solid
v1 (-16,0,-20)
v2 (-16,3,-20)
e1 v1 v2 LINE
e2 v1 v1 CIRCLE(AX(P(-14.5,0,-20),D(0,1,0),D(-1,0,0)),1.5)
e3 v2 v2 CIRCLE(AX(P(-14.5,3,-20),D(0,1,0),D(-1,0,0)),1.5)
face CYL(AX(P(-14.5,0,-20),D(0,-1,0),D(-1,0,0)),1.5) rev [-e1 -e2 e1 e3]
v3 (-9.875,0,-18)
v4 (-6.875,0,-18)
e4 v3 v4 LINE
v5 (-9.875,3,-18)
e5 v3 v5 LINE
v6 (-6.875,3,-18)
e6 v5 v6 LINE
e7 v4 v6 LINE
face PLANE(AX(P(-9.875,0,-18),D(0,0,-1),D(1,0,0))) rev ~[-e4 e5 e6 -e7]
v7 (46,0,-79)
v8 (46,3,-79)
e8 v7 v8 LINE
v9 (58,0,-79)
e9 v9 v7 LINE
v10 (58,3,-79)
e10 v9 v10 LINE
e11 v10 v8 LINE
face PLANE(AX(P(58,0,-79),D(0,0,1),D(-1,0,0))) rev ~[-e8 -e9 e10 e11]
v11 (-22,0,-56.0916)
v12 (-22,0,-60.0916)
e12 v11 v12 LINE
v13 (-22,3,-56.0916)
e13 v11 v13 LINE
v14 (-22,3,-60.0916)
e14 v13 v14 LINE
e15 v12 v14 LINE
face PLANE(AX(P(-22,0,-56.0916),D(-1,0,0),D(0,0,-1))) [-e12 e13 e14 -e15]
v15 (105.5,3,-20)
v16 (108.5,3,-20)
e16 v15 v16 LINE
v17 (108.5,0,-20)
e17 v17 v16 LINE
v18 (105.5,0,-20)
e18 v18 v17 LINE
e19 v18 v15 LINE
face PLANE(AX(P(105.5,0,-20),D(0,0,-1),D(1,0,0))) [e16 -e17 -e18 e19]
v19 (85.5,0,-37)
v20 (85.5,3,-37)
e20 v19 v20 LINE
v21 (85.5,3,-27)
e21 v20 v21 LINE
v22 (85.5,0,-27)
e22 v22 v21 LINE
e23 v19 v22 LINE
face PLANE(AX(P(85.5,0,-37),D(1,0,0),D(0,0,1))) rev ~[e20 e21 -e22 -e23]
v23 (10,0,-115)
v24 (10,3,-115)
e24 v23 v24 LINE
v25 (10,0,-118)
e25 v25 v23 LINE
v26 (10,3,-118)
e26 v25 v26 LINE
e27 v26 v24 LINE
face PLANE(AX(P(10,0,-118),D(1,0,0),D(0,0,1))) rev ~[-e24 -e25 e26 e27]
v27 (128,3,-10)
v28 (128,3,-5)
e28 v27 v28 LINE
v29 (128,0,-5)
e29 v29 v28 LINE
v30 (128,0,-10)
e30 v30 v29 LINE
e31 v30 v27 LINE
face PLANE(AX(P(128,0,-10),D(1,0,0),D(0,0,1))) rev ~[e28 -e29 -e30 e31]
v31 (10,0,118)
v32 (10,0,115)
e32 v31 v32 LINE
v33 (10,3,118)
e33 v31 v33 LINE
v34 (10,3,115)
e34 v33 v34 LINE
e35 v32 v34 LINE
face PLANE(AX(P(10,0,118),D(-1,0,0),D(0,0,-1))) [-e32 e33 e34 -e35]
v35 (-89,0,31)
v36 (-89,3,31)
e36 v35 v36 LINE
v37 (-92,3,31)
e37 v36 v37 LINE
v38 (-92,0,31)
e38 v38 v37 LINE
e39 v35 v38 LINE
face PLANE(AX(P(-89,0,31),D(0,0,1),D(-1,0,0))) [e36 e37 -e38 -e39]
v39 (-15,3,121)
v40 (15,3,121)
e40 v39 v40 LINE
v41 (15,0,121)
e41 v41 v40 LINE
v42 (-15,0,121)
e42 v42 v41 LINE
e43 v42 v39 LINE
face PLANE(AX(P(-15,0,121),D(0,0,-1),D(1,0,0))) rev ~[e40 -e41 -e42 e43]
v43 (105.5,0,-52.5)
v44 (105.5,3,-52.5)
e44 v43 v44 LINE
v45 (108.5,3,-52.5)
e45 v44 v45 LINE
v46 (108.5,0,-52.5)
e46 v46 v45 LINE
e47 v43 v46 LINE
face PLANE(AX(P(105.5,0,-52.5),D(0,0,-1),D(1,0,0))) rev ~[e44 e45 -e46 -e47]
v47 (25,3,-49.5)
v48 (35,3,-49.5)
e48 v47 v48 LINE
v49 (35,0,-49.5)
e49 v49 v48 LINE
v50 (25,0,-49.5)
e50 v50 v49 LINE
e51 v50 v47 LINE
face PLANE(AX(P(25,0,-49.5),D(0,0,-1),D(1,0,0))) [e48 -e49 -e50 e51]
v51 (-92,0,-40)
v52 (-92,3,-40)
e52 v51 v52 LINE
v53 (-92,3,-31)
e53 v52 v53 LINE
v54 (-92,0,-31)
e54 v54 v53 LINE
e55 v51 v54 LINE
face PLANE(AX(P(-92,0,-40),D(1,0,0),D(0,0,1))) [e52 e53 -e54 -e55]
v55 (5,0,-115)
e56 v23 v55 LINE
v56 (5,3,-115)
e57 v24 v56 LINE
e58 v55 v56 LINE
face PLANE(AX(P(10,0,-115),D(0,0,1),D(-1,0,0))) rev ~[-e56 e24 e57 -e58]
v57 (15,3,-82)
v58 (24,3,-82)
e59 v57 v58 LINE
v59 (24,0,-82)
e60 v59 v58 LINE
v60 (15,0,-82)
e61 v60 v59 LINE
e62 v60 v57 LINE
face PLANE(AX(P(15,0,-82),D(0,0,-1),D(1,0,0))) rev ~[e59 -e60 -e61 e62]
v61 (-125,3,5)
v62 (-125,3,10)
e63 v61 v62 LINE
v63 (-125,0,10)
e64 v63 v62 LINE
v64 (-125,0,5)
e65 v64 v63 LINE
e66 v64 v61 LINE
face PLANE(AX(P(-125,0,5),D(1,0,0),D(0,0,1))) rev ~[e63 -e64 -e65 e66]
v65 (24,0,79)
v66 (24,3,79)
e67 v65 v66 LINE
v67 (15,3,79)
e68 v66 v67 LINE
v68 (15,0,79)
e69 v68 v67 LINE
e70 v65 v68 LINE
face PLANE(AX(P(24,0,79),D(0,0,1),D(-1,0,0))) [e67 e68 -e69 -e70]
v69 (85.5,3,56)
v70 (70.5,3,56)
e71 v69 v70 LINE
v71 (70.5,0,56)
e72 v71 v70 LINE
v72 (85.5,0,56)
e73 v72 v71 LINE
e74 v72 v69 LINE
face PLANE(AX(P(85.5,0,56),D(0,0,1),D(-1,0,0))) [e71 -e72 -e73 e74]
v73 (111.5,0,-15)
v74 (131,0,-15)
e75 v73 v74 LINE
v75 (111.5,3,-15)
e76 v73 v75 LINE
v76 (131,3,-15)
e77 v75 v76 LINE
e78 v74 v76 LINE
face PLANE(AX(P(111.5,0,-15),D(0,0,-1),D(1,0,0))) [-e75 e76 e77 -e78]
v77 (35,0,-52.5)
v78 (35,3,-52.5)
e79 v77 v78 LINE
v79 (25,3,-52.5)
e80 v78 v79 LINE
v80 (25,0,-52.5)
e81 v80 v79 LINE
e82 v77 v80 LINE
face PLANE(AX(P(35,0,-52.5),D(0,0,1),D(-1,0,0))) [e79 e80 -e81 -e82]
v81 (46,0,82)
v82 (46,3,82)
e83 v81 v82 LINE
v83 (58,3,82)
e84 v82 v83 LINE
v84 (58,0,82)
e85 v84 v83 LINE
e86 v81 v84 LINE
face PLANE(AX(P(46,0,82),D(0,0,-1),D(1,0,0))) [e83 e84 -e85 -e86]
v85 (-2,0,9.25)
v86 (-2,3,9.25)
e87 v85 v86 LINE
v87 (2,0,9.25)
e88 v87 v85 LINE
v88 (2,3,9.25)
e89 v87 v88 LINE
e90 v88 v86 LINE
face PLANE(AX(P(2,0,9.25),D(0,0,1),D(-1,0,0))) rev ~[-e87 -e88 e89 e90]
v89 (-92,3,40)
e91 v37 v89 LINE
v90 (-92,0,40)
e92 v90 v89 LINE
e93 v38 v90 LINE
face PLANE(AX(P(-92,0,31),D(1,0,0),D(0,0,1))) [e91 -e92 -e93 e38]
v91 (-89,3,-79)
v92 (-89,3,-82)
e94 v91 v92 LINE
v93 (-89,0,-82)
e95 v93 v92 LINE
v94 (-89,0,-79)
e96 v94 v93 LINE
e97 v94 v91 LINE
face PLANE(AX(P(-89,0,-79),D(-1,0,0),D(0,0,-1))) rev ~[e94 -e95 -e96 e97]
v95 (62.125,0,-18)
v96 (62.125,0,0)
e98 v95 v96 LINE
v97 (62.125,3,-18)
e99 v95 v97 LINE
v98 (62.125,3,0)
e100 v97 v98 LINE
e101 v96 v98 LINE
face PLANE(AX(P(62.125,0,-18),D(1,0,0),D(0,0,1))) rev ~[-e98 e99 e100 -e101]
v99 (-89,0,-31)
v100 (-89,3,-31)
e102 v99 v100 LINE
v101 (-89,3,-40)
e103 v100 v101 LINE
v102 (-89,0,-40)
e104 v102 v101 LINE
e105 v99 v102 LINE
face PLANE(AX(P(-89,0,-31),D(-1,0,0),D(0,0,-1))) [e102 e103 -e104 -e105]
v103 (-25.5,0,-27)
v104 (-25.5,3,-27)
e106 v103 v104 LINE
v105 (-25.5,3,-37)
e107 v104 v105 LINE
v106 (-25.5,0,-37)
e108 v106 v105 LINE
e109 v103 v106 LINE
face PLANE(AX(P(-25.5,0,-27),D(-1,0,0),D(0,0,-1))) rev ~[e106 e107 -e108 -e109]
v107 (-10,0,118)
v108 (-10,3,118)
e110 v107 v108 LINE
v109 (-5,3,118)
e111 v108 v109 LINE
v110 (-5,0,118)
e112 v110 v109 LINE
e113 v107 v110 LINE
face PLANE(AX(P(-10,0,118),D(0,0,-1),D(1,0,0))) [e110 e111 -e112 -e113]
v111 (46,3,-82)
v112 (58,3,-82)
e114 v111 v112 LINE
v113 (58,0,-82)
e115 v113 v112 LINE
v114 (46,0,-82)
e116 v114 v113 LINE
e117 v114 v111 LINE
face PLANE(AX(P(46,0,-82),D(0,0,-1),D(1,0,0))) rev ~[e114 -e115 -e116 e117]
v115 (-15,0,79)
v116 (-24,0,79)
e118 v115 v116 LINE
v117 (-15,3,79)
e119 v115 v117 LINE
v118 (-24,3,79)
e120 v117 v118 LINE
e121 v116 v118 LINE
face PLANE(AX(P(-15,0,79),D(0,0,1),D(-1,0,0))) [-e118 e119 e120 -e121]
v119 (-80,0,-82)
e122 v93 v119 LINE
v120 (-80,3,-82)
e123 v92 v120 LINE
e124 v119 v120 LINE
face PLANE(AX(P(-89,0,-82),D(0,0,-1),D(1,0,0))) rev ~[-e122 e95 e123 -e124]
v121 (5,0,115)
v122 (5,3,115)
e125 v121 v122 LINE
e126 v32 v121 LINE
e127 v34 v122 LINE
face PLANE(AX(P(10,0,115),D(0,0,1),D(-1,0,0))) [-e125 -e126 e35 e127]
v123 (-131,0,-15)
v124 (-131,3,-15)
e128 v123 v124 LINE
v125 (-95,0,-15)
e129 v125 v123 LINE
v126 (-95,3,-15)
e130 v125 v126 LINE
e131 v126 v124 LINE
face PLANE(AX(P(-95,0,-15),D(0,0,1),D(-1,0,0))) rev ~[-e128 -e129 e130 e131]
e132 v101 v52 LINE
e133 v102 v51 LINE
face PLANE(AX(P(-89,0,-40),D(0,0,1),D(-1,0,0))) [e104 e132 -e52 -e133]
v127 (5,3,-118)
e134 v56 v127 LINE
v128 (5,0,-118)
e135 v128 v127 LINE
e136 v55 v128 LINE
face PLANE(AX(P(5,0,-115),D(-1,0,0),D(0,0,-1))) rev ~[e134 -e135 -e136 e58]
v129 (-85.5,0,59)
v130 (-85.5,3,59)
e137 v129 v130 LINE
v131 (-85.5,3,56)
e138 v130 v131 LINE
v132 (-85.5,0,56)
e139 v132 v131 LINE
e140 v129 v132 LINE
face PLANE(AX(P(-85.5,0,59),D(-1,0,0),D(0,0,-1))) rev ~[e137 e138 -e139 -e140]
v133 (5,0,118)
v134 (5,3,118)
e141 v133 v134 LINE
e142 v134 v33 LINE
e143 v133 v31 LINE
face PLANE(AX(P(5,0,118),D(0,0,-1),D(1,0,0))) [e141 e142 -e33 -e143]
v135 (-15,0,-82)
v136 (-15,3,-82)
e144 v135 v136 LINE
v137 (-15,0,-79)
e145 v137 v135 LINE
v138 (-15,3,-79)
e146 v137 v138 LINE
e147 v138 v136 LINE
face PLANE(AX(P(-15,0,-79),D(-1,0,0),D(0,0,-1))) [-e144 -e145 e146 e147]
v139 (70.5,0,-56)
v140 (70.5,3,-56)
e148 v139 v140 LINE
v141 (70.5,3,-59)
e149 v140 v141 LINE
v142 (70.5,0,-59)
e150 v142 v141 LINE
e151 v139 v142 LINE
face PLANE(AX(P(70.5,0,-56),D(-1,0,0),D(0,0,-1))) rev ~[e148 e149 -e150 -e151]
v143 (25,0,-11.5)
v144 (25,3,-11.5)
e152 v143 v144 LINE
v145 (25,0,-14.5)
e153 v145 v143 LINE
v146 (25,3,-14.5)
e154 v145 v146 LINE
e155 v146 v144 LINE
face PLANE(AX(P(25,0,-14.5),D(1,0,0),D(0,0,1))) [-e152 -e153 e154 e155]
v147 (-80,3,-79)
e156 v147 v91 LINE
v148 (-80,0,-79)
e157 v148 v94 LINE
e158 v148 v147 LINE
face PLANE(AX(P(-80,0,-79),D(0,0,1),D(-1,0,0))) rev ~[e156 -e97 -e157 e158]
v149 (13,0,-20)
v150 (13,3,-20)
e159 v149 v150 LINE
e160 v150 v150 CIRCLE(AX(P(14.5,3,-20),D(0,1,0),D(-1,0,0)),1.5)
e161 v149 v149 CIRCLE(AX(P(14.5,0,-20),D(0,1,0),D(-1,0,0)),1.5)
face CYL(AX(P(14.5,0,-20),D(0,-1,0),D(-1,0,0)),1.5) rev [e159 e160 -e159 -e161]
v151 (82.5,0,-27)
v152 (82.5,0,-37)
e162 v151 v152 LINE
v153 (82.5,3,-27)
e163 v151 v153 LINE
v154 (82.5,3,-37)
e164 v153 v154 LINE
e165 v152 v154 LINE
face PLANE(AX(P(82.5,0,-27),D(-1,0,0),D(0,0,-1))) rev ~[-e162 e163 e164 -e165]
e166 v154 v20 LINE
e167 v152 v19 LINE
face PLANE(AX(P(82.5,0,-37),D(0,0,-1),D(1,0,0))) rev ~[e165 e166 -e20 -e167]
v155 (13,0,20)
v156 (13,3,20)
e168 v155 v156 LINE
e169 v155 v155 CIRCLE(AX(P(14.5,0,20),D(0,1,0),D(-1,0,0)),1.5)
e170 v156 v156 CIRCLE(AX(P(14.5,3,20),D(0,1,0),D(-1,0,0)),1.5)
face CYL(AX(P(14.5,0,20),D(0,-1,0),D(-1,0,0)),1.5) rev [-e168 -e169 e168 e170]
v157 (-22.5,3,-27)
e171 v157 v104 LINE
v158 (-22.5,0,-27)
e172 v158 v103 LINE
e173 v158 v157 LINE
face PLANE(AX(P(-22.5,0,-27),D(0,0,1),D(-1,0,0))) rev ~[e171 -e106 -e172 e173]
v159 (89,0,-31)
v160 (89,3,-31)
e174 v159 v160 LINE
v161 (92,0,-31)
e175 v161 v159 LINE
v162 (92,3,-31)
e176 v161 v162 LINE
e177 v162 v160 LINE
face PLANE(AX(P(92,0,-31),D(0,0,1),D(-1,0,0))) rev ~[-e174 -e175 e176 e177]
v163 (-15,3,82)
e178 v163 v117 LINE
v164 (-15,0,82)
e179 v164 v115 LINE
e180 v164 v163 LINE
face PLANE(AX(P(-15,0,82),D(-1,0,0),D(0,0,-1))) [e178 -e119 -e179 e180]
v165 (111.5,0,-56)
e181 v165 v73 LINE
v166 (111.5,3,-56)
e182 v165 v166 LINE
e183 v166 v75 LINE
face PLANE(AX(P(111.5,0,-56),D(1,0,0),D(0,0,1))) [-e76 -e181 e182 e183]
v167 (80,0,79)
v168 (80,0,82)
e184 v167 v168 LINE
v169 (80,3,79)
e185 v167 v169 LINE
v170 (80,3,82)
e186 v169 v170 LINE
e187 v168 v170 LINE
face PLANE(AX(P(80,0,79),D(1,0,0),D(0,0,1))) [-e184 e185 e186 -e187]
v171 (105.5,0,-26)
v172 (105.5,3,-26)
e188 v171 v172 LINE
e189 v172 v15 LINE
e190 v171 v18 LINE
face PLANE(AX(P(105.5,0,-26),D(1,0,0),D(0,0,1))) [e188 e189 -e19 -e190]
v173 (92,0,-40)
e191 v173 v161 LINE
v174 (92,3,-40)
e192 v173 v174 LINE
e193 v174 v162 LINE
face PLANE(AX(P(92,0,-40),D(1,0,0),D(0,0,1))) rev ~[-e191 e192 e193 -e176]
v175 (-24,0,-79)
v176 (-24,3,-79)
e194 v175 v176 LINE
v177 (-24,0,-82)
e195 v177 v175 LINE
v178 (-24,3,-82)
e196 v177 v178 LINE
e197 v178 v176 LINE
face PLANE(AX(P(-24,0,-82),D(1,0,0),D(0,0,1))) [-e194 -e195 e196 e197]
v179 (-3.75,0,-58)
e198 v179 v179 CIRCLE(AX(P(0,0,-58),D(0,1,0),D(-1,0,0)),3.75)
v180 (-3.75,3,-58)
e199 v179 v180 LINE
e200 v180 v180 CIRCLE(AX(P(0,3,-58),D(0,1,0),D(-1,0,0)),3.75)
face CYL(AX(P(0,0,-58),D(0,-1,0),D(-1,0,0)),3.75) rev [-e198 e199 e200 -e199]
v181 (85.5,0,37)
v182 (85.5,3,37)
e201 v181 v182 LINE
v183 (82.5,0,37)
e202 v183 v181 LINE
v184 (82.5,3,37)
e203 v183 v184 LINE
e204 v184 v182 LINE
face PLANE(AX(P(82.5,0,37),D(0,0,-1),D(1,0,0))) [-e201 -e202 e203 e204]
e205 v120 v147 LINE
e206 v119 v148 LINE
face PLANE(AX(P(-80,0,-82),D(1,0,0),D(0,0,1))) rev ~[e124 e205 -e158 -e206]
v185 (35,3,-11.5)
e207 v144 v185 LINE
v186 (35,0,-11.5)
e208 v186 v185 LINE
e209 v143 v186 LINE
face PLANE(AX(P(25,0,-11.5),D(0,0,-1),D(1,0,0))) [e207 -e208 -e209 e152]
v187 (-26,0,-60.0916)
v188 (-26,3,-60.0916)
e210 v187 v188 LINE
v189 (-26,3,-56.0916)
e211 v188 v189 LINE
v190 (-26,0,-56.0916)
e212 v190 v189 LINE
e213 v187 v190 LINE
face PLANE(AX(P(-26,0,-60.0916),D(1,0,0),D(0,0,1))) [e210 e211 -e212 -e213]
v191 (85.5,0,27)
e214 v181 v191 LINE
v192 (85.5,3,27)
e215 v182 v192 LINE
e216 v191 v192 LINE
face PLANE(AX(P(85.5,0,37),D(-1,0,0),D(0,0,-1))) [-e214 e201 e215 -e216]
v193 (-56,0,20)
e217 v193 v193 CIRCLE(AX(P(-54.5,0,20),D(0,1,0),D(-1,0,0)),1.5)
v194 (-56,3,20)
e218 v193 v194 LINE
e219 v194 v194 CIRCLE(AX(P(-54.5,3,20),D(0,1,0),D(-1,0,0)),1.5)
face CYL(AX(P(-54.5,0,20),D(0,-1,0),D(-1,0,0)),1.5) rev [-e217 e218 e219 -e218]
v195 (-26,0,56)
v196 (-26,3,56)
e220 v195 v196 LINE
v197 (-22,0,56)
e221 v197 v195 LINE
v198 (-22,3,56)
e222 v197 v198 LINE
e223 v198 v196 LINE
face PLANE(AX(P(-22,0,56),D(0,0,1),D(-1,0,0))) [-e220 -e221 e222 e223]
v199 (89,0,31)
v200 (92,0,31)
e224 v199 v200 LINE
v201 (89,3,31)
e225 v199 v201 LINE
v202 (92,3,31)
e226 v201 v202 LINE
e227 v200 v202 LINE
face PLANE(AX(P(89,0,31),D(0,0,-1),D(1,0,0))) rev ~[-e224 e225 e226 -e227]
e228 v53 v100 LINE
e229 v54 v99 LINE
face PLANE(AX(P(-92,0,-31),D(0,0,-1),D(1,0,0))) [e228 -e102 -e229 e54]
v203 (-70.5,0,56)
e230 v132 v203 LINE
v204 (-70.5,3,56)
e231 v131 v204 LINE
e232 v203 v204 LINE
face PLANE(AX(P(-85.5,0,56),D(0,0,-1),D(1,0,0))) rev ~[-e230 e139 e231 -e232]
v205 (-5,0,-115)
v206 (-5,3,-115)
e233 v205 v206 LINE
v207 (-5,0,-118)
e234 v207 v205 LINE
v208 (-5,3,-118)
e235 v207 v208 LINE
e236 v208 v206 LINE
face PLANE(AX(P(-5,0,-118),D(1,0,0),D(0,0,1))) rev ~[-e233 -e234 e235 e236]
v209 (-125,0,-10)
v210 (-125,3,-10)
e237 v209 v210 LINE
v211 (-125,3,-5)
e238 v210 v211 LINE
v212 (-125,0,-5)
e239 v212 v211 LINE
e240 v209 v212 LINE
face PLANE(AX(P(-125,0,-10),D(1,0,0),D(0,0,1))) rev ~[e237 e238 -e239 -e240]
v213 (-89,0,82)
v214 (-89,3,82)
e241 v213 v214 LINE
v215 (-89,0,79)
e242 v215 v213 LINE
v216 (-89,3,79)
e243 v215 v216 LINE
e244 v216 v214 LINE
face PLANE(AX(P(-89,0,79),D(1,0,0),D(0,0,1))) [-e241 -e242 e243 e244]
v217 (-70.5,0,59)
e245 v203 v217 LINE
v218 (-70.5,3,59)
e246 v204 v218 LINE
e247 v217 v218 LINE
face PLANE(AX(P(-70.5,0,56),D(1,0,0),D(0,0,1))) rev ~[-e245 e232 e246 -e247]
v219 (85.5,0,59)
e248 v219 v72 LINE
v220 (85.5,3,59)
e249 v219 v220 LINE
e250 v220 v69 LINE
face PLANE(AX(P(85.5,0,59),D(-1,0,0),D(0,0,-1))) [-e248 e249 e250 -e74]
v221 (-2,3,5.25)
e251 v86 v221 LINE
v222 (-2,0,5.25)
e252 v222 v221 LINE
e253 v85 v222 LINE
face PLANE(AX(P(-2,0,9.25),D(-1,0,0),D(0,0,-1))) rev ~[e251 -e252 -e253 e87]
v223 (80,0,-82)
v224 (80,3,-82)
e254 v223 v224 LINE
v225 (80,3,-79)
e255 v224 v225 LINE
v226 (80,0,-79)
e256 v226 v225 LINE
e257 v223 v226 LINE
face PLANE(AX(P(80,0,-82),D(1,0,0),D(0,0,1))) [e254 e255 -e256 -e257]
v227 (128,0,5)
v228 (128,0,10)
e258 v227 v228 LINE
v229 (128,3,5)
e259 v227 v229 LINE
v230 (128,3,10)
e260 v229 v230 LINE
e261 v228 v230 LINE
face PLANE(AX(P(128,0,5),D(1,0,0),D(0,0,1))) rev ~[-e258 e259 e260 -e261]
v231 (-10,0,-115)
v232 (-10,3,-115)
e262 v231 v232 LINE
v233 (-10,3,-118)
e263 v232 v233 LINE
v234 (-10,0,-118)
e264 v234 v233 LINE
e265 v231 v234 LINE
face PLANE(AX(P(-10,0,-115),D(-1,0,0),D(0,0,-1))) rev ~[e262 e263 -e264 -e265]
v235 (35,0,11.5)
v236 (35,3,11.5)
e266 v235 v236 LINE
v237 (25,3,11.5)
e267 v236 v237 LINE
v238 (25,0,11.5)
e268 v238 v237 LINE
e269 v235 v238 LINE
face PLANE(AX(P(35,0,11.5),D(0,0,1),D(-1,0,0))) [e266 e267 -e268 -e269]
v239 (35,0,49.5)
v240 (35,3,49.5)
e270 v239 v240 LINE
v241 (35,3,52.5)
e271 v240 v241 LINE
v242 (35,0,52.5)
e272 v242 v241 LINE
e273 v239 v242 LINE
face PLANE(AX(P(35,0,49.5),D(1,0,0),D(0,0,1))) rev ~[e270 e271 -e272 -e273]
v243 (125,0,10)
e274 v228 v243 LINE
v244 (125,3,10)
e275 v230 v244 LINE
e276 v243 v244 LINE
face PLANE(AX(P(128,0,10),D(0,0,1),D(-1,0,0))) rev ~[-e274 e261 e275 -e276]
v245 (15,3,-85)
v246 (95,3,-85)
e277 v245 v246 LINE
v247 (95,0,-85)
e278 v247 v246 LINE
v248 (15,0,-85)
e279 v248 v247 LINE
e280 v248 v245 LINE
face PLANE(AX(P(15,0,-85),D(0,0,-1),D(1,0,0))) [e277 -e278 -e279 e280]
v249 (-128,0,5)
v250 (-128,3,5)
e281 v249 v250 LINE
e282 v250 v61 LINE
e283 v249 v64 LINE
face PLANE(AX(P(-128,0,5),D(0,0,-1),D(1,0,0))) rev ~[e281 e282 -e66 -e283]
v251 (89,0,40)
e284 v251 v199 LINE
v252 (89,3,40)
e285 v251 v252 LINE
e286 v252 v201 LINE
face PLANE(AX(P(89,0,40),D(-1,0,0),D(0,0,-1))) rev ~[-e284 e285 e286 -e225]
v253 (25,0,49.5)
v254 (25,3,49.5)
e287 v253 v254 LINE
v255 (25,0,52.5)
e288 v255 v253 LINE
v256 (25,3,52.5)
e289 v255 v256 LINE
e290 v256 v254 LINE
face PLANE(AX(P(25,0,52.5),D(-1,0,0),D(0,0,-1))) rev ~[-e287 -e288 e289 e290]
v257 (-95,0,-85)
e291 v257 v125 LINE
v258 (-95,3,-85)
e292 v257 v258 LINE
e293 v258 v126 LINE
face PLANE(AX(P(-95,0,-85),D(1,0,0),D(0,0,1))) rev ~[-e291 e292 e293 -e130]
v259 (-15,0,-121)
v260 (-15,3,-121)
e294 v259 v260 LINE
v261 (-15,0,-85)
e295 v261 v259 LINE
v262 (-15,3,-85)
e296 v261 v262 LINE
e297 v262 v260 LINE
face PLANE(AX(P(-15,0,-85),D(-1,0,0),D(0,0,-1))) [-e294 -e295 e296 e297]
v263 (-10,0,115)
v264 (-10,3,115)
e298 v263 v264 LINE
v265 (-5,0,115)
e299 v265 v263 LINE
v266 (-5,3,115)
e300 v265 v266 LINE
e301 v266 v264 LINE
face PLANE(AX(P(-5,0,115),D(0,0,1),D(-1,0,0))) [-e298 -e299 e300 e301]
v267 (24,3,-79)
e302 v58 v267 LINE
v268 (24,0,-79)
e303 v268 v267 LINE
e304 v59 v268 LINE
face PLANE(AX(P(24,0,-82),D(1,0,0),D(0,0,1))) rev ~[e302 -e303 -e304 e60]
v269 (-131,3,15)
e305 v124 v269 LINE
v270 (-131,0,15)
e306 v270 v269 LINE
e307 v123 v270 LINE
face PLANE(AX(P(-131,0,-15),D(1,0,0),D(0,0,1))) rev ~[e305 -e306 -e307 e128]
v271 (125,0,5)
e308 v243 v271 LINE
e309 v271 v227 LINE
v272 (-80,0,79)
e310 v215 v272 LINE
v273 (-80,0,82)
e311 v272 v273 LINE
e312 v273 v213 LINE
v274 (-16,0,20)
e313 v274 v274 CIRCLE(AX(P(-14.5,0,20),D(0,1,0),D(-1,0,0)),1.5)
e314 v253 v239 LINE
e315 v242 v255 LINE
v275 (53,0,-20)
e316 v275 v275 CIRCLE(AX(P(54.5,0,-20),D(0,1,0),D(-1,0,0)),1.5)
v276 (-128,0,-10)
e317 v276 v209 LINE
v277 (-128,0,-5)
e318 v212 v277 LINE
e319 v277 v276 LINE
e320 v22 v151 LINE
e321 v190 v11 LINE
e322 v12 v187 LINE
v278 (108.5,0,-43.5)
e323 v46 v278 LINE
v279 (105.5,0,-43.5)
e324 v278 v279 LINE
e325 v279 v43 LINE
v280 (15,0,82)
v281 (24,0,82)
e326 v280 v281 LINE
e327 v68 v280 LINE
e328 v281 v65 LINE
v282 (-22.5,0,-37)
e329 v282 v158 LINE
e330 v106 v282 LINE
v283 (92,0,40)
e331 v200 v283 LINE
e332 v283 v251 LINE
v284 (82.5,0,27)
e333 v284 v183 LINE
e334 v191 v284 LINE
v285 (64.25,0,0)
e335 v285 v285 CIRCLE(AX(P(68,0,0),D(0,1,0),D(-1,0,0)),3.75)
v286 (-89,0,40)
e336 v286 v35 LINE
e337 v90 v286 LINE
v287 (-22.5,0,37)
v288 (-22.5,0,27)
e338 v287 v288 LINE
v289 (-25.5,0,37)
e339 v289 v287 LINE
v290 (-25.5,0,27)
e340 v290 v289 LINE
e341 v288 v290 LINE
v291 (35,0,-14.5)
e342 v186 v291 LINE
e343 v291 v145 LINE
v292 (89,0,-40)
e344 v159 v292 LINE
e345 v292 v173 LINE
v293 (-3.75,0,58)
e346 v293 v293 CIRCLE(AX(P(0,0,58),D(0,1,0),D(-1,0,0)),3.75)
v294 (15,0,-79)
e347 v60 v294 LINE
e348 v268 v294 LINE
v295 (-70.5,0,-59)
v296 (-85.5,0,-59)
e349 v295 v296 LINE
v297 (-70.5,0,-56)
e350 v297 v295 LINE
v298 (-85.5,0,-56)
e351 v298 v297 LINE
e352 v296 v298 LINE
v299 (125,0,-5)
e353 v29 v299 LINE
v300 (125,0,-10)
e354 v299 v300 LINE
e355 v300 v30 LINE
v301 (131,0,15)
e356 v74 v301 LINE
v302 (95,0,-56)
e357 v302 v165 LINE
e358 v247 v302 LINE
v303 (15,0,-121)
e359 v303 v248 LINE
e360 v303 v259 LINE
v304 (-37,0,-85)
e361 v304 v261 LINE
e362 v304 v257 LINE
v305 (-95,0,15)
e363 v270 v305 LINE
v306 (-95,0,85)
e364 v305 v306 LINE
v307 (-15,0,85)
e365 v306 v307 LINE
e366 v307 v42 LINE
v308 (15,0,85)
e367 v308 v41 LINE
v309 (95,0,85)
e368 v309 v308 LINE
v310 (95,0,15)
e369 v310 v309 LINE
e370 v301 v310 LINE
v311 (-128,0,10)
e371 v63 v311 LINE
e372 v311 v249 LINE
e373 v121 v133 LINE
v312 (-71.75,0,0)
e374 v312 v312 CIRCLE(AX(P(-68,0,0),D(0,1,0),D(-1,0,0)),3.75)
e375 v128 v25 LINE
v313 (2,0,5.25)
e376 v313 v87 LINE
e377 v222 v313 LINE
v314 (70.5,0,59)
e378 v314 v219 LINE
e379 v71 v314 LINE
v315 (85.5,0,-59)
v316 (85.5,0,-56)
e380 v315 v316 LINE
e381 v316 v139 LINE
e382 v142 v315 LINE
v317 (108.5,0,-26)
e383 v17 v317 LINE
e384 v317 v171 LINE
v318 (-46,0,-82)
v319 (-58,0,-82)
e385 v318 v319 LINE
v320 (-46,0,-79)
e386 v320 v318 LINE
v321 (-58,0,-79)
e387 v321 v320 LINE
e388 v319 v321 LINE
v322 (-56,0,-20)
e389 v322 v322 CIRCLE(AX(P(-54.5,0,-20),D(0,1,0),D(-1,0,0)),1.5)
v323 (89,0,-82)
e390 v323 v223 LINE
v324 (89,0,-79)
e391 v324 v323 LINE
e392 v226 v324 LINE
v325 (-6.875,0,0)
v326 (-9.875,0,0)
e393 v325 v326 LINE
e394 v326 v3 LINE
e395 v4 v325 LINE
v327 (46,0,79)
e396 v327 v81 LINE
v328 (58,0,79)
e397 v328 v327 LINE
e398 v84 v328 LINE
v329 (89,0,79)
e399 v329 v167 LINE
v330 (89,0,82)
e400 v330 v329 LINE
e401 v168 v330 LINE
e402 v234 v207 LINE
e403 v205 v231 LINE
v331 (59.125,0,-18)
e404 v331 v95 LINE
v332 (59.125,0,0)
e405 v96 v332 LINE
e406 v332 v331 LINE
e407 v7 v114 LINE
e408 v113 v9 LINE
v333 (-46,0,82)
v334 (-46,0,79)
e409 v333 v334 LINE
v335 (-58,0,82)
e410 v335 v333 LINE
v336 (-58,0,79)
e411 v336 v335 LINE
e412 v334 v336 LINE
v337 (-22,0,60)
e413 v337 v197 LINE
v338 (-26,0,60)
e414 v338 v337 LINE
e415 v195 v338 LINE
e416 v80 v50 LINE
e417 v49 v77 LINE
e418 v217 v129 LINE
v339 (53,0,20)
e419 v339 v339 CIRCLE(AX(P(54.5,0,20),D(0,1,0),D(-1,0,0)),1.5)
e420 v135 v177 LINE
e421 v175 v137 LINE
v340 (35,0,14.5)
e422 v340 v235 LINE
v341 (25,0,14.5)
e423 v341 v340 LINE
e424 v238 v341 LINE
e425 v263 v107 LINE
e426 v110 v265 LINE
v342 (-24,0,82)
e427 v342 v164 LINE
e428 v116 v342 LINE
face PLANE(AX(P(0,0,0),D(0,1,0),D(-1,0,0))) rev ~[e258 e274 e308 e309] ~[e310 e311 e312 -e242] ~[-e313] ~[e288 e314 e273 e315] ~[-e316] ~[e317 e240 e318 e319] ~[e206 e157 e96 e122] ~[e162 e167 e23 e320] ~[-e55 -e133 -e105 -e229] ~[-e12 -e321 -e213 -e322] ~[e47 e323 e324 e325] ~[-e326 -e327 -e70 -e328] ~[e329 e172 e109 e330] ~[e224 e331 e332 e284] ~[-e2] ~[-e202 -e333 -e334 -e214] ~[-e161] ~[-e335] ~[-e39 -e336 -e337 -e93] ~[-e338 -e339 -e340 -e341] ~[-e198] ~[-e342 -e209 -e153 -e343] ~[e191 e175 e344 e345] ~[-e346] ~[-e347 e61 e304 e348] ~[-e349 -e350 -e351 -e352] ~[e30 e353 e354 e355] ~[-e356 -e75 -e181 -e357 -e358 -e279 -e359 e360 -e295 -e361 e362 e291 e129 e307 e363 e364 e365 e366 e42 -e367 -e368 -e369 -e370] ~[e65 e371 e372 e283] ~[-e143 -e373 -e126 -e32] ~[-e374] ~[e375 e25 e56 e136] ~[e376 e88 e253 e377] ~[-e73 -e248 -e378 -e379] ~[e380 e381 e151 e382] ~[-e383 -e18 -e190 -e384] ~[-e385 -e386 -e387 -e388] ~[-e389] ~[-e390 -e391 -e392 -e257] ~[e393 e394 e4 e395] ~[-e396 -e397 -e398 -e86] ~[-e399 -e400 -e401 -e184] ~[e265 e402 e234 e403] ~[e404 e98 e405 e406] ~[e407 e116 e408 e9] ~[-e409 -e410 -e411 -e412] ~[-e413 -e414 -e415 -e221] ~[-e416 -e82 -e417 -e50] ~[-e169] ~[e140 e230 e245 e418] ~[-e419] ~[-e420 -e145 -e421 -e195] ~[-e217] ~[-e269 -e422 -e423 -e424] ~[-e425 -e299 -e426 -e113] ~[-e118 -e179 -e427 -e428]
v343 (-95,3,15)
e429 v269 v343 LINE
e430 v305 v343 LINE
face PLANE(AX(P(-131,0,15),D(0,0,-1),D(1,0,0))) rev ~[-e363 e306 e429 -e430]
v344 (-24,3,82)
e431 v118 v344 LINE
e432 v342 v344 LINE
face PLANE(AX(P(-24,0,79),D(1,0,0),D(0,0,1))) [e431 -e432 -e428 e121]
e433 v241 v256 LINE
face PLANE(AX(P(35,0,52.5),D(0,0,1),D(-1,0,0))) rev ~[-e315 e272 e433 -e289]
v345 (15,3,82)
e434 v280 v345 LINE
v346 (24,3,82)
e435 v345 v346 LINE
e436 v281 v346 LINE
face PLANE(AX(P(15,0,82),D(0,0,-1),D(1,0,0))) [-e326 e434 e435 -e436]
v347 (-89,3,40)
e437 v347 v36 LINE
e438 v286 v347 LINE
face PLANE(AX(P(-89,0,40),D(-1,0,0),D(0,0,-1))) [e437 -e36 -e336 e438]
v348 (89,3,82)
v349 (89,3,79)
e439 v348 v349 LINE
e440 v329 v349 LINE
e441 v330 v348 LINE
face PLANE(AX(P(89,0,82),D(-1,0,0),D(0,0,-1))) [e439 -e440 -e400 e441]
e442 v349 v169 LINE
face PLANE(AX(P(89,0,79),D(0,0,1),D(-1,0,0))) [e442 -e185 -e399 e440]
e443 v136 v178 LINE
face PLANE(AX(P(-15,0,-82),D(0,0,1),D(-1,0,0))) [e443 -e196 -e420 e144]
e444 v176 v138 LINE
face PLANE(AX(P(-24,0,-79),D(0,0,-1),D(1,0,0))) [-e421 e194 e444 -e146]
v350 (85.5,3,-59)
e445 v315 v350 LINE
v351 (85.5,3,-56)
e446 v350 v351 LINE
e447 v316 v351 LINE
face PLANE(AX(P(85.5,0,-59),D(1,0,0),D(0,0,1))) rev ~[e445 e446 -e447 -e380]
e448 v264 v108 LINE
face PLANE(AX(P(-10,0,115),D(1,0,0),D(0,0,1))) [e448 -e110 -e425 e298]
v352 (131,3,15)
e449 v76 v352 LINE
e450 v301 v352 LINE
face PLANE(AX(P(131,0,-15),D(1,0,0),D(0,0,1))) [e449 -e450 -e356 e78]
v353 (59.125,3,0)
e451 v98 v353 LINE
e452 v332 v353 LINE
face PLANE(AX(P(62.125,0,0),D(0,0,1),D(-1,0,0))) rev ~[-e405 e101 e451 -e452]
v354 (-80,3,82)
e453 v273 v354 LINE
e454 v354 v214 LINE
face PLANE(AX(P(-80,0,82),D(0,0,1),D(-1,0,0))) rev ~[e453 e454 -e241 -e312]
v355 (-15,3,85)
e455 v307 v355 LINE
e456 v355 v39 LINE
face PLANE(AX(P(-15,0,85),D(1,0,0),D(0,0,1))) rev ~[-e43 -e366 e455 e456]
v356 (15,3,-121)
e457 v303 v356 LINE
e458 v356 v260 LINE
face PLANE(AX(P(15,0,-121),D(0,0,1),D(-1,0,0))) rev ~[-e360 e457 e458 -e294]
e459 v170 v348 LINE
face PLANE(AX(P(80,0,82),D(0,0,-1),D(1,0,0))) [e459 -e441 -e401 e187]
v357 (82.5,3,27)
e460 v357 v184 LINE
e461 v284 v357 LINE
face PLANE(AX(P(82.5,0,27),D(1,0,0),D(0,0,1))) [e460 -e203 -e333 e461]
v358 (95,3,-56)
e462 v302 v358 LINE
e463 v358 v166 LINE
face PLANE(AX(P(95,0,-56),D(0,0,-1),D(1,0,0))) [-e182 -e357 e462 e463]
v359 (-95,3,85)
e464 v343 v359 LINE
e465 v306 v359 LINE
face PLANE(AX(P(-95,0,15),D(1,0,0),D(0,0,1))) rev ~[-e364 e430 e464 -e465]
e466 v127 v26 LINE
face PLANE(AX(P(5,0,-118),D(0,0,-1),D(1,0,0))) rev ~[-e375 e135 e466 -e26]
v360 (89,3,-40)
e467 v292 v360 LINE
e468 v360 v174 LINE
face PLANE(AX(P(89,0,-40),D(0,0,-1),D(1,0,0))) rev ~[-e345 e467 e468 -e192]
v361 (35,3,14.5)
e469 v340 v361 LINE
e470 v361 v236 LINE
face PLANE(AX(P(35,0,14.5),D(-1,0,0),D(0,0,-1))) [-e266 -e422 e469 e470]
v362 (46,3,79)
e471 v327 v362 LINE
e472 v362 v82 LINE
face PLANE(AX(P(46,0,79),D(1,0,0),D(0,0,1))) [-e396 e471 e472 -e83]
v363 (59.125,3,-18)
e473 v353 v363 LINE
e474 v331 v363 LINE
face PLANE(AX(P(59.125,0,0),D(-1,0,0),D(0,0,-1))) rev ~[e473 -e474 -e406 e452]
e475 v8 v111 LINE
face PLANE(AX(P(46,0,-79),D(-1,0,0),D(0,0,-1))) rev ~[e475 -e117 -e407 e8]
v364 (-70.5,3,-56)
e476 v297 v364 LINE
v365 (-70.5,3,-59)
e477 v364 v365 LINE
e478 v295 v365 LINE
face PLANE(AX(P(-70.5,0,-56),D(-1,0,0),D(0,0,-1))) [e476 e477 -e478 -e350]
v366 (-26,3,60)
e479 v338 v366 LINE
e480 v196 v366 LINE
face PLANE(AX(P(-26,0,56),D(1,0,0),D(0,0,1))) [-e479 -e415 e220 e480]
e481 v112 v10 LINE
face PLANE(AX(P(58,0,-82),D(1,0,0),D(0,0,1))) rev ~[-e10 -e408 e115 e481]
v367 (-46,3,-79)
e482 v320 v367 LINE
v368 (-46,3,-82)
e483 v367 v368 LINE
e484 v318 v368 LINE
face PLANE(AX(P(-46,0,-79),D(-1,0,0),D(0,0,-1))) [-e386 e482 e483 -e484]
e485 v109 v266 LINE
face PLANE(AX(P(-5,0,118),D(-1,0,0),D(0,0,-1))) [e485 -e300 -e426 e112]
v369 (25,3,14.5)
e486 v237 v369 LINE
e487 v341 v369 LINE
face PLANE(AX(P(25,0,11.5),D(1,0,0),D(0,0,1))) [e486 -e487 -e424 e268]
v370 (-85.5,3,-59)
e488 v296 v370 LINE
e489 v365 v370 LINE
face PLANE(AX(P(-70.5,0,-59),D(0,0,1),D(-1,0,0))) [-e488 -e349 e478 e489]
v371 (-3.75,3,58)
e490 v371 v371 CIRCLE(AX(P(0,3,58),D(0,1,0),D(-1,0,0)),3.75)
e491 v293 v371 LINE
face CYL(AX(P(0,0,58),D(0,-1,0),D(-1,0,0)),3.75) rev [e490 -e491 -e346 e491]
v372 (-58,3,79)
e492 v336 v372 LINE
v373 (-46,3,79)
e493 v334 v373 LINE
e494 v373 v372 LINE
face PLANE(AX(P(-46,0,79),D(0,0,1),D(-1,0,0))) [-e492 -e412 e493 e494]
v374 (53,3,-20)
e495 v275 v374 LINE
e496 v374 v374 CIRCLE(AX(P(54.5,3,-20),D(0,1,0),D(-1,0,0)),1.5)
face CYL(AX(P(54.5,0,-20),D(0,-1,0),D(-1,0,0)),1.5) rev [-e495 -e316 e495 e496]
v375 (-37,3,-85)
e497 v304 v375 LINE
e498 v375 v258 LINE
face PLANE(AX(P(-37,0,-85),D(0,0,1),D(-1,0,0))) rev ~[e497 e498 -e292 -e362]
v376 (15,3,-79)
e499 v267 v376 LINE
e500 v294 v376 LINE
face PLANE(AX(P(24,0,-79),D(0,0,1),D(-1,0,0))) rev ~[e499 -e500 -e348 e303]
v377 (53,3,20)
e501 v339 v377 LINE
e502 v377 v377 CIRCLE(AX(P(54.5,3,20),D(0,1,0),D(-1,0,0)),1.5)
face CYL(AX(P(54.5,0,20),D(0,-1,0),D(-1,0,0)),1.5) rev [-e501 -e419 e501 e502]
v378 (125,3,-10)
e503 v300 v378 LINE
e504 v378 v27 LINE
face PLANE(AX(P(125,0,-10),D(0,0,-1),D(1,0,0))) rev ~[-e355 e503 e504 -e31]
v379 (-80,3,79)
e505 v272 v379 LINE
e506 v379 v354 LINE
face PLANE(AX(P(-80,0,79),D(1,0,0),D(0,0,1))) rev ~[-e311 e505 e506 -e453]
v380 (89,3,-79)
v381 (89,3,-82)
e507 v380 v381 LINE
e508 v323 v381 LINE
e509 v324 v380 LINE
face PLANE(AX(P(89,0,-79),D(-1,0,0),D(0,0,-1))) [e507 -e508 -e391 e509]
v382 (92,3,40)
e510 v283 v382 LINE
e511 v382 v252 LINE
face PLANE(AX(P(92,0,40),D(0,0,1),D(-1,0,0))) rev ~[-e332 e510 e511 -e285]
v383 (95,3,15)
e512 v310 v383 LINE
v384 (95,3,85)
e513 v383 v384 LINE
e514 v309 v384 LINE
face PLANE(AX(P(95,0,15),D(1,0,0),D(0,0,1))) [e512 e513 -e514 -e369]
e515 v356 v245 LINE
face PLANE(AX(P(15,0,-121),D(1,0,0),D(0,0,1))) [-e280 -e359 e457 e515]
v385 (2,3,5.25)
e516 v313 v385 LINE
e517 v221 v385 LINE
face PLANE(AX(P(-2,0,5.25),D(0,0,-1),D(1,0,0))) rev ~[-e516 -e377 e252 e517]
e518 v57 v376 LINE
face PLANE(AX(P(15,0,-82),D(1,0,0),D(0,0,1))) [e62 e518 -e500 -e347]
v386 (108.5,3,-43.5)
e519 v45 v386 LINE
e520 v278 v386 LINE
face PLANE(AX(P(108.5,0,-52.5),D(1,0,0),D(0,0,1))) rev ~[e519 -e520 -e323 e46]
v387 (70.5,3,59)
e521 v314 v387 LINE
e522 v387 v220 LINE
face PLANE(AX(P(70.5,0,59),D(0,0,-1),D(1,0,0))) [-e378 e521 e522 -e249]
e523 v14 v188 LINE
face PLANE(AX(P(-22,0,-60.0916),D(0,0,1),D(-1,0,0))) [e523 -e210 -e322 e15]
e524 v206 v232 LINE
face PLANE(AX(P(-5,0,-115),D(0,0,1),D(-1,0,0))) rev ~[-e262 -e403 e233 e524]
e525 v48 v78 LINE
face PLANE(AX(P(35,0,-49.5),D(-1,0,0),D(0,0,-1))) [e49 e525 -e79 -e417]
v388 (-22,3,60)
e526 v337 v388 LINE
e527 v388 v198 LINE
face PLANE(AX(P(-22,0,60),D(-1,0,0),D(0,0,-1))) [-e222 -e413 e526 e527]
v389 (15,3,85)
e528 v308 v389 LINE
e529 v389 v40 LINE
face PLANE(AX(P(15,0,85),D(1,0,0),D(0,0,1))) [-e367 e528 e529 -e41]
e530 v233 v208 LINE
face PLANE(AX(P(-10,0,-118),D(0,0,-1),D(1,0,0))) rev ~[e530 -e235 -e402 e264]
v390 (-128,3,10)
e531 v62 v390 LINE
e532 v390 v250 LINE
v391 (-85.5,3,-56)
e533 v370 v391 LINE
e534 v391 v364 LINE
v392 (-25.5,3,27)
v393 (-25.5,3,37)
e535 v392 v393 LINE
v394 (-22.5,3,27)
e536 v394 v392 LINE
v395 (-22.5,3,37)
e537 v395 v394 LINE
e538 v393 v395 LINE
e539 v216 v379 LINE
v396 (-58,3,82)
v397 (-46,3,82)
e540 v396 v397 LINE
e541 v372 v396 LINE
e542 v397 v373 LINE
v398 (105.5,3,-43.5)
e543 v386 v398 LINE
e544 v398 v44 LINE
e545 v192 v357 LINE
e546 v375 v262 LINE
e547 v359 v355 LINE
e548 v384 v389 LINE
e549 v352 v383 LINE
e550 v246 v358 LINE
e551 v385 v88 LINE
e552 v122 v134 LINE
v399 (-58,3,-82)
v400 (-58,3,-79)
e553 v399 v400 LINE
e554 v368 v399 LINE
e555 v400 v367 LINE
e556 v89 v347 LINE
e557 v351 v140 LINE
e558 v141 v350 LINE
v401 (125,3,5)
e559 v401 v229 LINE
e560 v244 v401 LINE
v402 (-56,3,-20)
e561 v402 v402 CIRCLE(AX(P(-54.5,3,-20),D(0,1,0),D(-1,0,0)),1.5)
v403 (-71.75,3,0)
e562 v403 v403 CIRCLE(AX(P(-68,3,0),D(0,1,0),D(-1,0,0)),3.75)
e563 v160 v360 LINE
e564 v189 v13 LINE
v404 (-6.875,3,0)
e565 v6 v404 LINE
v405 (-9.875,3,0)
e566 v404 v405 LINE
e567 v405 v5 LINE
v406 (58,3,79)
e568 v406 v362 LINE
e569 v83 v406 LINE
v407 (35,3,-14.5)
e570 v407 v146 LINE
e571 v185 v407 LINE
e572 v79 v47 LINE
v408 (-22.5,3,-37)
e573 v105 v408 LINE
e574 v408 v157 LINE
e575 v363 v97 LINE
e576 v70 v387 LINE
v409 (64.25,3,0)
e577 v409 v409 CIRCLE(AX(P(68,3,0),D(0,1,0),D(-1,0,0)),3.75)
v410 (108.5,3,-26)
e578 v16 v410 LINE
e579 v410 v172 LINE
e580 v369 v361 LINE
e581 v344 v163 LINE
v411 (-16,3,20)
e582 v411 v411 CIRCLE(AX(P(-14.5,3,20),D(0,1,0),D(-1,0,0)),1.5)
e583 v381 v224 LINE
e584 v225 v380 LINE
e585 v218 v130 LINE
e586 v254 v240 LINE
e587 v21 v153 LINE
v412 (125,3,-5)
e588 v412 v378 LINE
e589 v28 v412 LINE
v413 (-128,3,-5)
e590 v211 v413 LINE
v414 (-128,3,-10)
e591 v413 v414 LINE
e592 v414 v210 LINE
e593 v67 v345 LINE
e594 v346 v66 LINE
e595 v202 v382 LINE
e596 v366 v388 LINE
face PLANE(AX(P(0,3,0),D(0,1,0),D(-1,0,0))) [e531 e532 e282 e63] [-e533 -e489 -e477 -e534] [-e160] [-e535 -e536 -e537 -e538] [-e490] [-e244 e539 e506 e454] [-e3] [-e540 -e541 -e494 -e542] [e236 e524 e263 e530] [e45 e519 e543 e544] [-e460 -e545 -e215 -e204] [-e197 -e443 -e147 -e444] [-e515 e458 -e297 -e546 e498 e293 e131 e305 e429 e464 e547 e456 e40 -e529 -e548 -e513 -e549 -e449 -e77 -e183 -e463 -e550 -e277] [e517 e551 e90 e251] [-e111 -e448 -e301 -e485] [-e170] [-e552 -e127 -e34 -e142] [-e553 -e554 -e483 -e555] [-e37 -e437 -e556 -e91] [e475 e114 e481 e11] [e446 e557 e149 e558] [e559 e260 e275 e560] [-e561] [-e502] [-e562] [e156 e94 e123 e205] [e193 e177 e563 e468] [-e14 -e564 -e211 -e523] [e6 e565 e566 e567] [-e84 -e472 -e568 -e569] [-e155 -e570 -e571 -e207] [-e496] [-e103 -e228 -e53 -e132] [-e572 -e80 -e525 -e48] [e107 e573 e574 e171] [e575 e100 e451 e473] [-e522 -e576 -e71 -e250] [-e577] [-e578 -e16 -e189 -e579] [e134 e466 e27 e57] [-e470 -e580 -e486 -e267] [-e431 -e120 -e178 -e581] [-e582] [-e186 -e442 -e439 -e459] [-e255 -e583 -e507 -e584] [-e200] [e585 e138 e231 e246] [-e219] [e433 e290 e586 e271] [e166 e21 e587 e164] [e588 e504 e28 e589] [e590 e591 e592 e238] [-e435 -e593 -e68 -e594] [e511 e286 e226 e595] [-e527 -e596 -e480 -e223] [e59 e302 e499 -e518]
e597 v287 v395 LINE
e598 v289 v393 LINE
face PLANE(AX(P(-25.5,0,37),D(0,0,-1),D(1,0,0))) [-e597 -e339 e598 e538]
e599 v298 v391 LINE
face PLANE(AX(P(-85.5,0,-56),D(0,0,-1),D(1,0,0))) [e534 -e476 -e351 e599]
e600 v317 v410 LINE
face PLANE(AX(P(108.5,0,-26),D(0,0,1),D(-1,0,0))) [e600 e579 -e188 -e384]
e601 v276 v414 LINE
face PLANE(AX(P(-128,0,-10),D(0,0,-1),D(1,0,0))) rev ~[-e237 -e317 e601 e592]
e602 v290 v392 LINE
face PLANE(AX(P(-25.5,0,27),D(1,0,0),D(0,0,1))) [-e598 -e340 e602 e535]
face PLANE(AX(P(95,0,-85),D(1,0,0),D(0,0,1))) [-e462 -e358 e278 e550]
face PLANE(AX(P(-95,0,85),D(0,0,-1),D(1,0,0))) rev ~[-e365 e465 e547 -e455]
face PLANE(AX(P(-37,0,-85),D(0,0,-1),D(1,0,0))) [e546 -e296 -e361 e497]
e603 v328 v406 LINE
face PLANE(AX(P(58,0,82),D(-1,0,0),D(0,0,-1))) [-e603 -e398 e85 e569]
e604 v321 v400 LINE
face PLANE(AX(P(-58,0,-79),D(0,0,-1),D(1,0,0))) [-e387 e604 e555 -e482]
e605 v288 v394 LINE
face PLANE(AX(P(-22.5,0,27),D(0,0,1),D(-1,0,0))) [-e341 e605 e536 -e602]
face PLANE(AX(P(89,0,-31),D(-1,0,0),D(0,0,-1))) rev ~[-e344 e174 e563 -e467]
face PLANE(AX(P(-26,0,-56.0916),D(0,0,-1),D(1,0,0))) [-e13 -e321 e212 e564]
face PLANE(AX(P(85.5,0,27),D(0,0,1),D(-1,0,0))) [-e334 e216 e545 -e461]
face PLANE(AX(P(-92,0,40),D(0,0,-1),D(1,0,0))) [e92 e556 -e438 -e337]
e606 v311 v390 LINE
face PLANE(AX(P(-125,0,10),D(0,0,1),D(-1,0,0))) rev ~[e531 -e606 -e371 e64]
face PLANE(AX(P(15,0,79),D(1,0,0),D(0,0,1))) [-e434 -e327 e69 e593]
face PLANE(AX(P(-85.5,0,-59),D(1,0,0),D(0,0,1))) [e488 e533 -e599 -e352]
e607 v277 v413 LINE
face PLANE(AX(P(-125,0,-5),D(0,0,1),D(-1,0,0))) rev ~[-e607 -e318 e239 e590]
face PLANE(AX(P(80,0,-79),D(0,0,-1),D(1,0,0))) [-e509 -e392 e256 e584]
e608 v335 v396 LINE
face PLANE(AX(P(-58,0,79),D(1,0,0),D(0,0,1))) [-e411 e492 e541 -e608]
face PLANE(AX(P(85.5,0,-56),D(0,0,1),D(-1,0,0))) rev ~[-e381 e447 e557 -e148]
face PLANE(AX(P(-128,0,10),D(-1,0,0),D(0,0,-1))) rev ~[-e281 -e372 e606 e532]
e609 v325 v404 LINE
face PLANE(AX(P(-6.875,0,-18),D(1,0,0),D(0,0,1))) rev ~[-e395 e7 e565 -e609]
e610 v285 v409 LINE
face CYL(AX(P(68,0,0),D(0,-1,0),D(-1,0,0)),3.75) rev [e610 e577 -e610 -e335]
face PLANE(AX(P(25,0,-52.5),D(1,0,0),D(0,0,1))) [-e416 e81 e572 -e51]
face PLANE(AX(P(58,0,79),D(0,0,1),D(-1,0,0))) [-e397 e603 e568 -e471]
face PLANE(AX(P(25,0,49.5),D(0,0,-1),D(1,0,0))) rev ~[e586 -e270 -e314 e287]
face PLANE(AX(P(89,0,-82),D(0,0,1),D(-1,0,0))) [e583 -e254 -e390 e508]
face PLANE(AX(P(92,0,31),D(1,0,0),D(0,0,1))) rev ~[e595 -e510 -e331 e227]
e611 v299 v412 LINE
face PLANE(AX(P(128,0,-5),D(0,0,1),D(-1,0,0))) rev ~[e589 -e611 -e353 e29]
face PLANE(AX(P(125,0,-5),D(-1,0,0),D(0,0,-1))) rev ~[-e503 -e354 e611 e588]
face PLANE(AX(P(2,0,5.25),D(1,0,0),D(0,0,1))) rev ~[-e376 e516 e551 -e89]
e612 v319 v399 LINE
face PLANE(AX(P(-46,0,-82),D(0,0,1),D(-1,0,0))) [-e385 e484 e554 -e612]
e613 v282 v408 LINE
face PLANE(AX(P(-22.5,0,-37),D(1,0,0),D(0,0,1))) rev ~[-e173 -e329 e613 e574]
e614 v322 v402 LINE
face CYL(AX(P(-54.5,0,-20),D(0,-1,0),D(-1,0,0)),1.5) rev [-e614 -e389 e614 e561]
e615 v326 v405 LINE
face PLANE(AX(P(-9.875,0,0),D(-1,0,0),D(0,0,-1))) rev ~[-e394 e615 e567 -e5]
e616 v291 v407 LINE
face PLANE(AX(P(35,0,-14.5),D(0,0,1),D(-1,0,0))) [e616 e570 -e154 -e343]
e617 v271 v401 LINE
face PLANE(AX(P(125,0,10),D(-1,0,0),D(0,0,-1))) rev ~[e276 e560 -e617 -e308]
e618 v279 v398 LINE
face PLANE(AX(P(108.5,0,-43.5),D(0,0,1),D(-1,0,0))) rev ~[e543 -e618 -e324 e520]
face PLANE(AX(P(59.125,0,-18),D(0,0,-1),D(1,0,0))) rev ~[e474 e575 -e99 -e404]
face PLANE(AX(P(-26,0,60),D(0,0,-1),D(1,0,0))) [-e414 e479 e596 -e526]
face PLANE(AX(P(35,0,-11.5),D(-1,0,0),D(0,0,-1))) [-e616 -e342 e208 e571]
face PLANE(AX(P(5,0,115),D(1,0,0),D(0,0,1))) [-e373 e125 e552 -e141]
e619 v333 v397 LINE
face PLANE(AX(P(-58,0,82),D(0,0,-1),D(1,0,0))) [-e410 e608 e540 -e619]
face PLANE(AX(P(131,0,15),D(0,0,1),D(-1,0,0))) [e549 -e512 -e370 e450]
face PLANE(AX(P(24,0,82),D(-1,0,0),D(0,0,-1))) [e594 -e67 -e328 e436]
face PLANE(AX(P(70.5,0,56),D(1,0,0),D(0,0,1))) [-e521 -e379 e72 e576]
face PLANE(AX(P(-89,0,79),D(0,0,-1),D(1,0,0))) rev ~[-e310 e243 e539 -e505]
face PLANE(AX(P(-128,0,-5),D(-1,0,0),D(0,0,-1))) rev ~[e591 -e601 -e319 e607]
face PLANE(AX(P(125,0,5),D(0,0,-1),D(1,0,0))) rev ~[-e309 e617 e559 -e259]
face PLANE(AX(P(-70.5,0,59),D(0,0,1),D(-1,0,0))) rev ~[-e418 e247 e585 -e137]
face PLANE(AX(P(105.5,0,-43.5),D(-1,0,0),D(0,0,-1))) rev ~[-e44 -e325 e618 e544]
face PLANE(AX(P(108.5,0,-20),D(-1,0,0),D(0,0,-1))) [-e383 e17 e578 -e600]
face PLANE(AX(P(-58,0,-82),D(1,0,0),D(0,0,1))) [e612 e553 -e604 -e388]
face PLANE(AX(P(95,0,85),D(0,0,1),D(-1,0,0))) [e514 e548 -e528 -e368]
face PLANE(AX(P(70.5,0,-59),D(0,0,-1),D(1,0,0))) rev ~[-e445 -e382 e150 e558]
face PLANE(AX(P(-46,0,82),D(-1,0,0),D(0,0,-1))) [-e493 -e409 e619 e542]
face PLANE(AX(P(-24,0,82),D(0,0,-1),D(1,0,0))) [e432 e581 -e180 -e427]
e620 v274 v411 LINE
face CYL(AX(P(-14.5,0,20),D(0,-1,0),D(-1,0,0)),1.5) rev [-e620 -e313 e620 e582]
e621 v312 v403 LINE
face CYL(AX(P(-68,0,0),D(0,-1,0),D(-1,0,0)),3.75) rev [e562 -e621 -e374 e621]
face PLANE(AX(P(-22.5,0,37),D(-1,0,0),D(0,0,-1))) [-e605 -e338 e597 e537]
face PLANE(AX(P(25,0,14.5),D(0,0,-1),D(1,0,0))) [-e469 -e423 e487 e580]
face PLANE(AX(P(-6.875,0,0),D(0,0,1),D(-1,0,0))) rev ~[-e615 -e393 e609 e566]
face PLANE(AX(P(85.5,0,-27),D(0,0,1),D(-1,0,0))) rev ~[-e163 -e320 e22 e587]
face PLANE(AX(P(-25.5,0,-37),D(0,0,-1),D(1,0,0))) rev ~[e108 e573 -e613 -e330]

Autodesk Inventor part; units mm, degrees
ref_plane "YZ Plane" through (0, 0, 0) normal (1, 0, 0) x (0, 1, 0)
ref_plane "XZ Plane" through (0, 0, 0) normal (0, 1, 0) x (-1, 0, 0)
ref_plane "XY Plane" through (0, 0, 0) normal (0, 0, 1) x (1, 0, 0)
sketch "Boceto1" plane through (0, 0, 0) normal (0, 1, 0) x (-1, 0, 0)
  line L0 (37, -85) -> (15, -85)
  circle A0 centre (0, -58) radius 3.75
  line L1 (-15, -121) -> (15, -121)
  line L2 (15, -85) -> (15, -121)
  line L3 (-15, -82) -> (-15, -79)
  line L4 (15, -79) -> (15, -82)
  line L5 (-15, -82) -> (-24, -82)
  line L6 (-24, -82) -> (-24, -79)
  line L7 (-24, -79) -> (-15, -79)
  line L8 (15, -82) -> (24, -82)
  line L9 (24, -82) -> (24, -79)
  line L10 (24, -79) -> (15, -79)
  line L11 (15, -85) -> (95, -85)
  line L12 (95, -85) -> (95, -15)
  line L13 (95, -15) -> (131, -15)
  line L14 (-15, -121) -> (-15, -85)
  line L15 (-15, -85) -> (-95, -85)
  line L16 (-95, -85) -> (-95, -56)
  line L17 (-95, -56) -> (-111.5, -56)
  line L18 (-111.5, -56) -> (-111.5, -15)
  line L19 (-111.5, -15) -> (-131, -15)
  line L20 (-131, -15) -> (-131, 15)
  line L21 (-131, 15) -> (-95, 15)
  line L22 (-95, 15) -> (-95, 85)
  line L23 (-95, 85) -> (-15, 85)
  line L24 (-15, 85) -> (-15, 121)
  line L25 (-5, -115) -> (-5, -118)
  line L26 (-5, -118) -> (-10, -118)
  line L27 (-10, -118) -> (-10, -115)
  line L28 (-10, -115) -> (-5, -115)
  line L29 (5, -115) -> (10, -115)
  line L30 (10, -115) -> (10, -118)
  line L31 (10, -118) -> (5, -118)
  line L32 (5, -118) -> (5, -115)
  line L33 (22, -60.0916) -> (26, -60.0916)
  line L34 (26, -60.0916) -> (26, -56.0916)
  line L35 (26, -56.0916) -> (22, -56.0916)
  line L36 (22, -56.0916) -> (22, -60.0916)
  circle A1 centre (68, 0) radius 3.75
  line L37 (131, -15) -> (131, 15)
  line L38 (131, 15) -> (95, 15)
  line L39 (95, 15) -> (95, 85)
  line L40 (95, 85) -> (15, 85)
  line L41 (15, 85) -> (15, 121)
  line L42 (15, 121) -> (-15, 121)
  line L43 (125, 5) -> (125, 10)
  line L44 (125, 10) -> (128, 10)
  line L45 (128, 10) -> (128, 5)
  line L46 (128, 5) -> (125, 5)
  line L47 (128, -10) -> (125, -10)
  line L48 (125, -10) -> (125, -5)
  line L49 (125, -5) -> (128, -5)
  line L50 (128, -5) -> (128, -10)
  circle A2 centre (-14.5, -20) radius 1.5
  circle A3 centre (-14.5, 20) radius 1.5
  circle A4 centre (-54.5, 20) radius 1.5
  circle A5 centre (-54.5, -20) radius 1.5
  circle A6 centre (14.5, -20) radius 1.5
  circle A7 centre (54.5, -20) radius 1.5
  circle A8 centre (14.5, 20) radius 1.5
  circle A9 centre (54.5, 20) radius 1.5
  circle A10 centre (0, 58) radius 3.75
  circle A11 centre (-68, 0) radius 3.75
  line L51 (-89, 82) -> (-89, 79)
  line L52 (-80, 79) -> (-80, 82)
  line L53 (24, 79) -> (24, 82)
  line L54 (15, 82) -> (15, 79)
  line L55 (-89, 79) -> (-80, 79)
  line L56 (-80, 79) -> (-80, 82)
  line L57 (-80, 82) -> (-89, 82)
  line L58 (-15, 82) -> (-24, 82)
  line L59 (-24, 82) -> (-24, 79)
  line L60 (-24, 79) -> (-15, 79)
  line L61 (-15, 79) -> (-15, 82)
  line L62 (15, 79) -> (24, 79)
  line L63 (24, 79) -> (24, 82)
  line L64 (24, 82) -> (15, 82)
  line L65 (9.875, 0) -> (9.875, -18)
  line L66 (9.875, -18) -> (6.875, -18)
  line L67 (6.875, -18) -> (6.875, 0)
  line L68 (6.875, 0) -> (9.875, 0)
  line L69 (26, 60) -> (22, 60)
  line L70 (22, 60) -> (22, 56)
  line L71 (22, 56) -> (26, 56)
  line L72 (26, 56) -> (26, 60)
  line L73 (-2, 9.25) -> (2, 9.25)
  line L74 (2, 9.25) -> (2, 5.25)
  line L75 (2, 5.25) -> (-2, 5.25)
  line L76 (-2, 5.25) -> (-2, 9.25)
  line L77 (-62.125, 0) -> (-59.125, 0)
  line L78 (-59.125, 0) -> (-59.125, -18)
  line L79 (-59.125, -18) -> (-62.125, -18)
  line L80 (-62.125, -18) -> (-62.125, 0)
  line L81 (-85.5, 27) -> (-82.5, 27)
  line L82 (-82.5, 27) -> (-82.5, 37)
  line L83 (-82.5, 37) -> (-85.5, 37)
  line L84 (-85.5, 37) -> (-85.5, 27)
  line L85 (25.5, 27) -> (25.5, 37)
  line L86 (25.5, 37) -> (22.5, 37)
  line L87 (22.5, 37) -> (22.5, 27)
  line L88 (22.5, 27) -> (25.5, 27)
  line L89 (-35, 11.5) -> (-25, 11.5)
  line L90 (-25, 11.5) -> (-25, 14.5)
  line L91 (-25, 14.5) -> (-35, 14.5)
  line L92 (-35, 14.5) -> (-35, 11.5)
  line L93 (-35, -14.5) -> (-25, -14.5)
  line L94 (-25, -14.5) -> (-25, -11.5)
  line L95 (-25, -11.5) -> (-35, -11.5)
  line L96 (-35, -11.5) -> (-35, -14.5)
  line L97 (-25, 49.5) -> (-35, 49.5)
  line L98 (-35, 49.5) -> (-35, 52.5)
  line L99 (-35, 52.5) -> (-25, 52.5)
  line L100 (-25, 52.5) -> (-25, 49.5)
  line L101 (-82.5, -27) -> (-82.5, -37)
  line L102 (-82.5, -37) -> (-85.5, -37)
  line L103 (-85.5, -37) -> (-85.5, -27)
  line L104 (-85.5, -27) -> (-82.5, -27)
  line L105 (22.5, -27) -> (25.5, -27)
  line L106 (25.5, -27) -> (25.5, -37)
  line L107 (25.5, -37) -> (22.5, -37)
  line L108 (22.5, -37) -> (22.5, -27)
  line L109 (46, 82) -> (46, 79)
  line L110 (46, 79) -> (58, 79)
  line L111 (58, 79) -> (58, 82)
  line L112 (58, 82) -> (46, 82)
  line L113 (-58, 82) -> (-58, 79)
  line L114 (-58, 79) -> (-46, 79)
  line L115 (-46, 79) -> (-46, 82)
  line L116 (-46, 82) -> (-58, 82)
  line L117 (-92, -40) -> (-92, -31)
  line L118 (-92, -31) -> (-89, -31)
  line L119 (-89, -31) -> (-89, -40)
  line L120 (-89, -40) -> (-92, -40)
  line L121 (-92, 31) -> (-92, 40)
  line L122 (-92, 40) -> (-89, 40)
  line L123 (-89, 40) -> (-89, 31)
  line L124 (-89, 31) -> (-92, 31)
  line L125 (-70.5, 56) -> (-70.5, 59)
  line L126 (-70.5, 59) -> (-85.5, 59)
  line L127 (-85.5, 59) -> (-85.5, 56)
  line L128 (-85.5, 56) -> (-70.5, 56)
  line L129 (89, 79) -> (89, 82)
  line L130 (80, 82) -> (89, 82)
  line L131 (89, 82) -> (89, 79)
  line L132 (89, 79) -> (80, 79)
  line L133 (80, 79) -> (80, 82)
  line L134 (92, 31) -> (92, 40)
  line L135 (92, 40) -> (89, 40)
  line L136 (89, 40) -> (89, 31)
  line L137 (89, 31) -> (92, 31)
  line L138 (70.5, 59) -> (85.5, 59)
  line L139 (85.5, 59) -> (85.5, 56)
  line L140 (85.5, 56) -> (70.5, 56)
  line L141 (70.5, 56) -> (70.5, 59)
  line L142 (89, -79) -> (89, -82)
  line L143 (46, -79) -> (46, -82)
  line L144 (46, -82) -> (58, -82)
  line L145 (58, -82) -> (58, -79)
  line L146 (58, -79) -> (46, -79)
  line L147 (80, -79) -> (89, -79)
  line L148 (89, -79) -> (89, -82)
  line L149 (89, -82) -> (80, -82)
  line L150 (80, -82) -> (80, -79)
  line L151 (70.5, -59) -> (85.5, -59)
  line L152 (85.5, -59) -> (85.5, -56)
  line L153 (85.5, -56) -> (70.5, -56)
  line L154 (70.5, -56) -> (70.5, -59)
  line L155 (92, -40) -> (92, -31)
  line L156 (92, -31) -> (89, -31)
  line L157 (89, -31) -> (89, -40)
  line L158 (89, -40) -> (92, -40)
  line L159 (-80, -82) -> (-80, -79)
  line L160 (-89, -79) -> (-89, -82)
  line L161 (-89, -82) -> (-80, -82)
  line L162 (-80, -82) -> (-80, -79)
  line L163 (-80, -79) -> (-89, -79)
  line L164 (-35, -52.5) -> (-25, -52.5)
  line L165 (-25, -52.5) -> (-25, -49.5)
  line L166 (-25, -49.5) -> (-35, -49.5)
  line L167 (-35, -49.5) -> (-35, -52.5)
  line L168 (-46, -79) -> (-46, -82)
  line L169 (-46, -82) -> (-58, -82)
  line L170 (-58, -82) -> (-58, -79)
  line L171 (-58, -79) -> (-46, -79)
  line L172 (-85.5, -56) -> (-70.5, -56)
  line L173 (-70.5, -56) -> (-70.5, -59)
  line L174 (-70.5, -59) -> (-85.5, -59)
  line L175 (-85.5, -59) -> (-85.5, -56)
  line L176 (-108.5, -20) -> (-108.5, -26)
  line L177 (-108.5, -26) -> (-105.5, -26)
  line L178 (-105.5, -26) -> (-105.5, -20)
  line L179 (-105.5, -20) -> (-108.5, -20)
  line L180 (-108.5, -52.5) -> (-108.5, -43.5)
  line L181 (-108.5, -43.5) -> (-105.5, -43.5)
  line L182 (-105.5, -43.5) -> (-105.5, -52.5)
  line L183 (-105.5, -52.5) -> (-108.5, -52.5)
  line L184 (-128, 5) -> (-128, 10)
  line L185 (-128, 10) -> (-125, 10)
  line L186 (-125, 10) -> (-125, 5)
  line L187 (-125, 5) -> (-128, 5)
  line L188 (-125, -10) -> (-128, -10)
  line L189 (-128, -10) -> (-128, -5)
  line L190 (-128, -5) -> (-125, -5)
  line L191 (-125, -5) -> (-125, -10)
  line L192 (-10, 115) -> (-5, 115)
  line L193 (-5, 115) -> (-5, 118)
  line L194 (-5, 118) -> (-10, 118)
  line L195 (-10, 118) -> (-10, 115)
  line L196 (5, 115) -> (10, 115)
  line L197 (10, 115) -> (10, 118)
  line L198 (10, 118) -> (5, 118)
  line L199 (5, 118) -> (5, 115)
  point P0 (0, 0)
  point P1 (15, -85)
  point P2 (6.875, 0)
extrude "Extrusión1" add sketch "Boceto1" along normal blind 3
properties part number "Base2" material "MDF Tablero de fibras de densidad media"
